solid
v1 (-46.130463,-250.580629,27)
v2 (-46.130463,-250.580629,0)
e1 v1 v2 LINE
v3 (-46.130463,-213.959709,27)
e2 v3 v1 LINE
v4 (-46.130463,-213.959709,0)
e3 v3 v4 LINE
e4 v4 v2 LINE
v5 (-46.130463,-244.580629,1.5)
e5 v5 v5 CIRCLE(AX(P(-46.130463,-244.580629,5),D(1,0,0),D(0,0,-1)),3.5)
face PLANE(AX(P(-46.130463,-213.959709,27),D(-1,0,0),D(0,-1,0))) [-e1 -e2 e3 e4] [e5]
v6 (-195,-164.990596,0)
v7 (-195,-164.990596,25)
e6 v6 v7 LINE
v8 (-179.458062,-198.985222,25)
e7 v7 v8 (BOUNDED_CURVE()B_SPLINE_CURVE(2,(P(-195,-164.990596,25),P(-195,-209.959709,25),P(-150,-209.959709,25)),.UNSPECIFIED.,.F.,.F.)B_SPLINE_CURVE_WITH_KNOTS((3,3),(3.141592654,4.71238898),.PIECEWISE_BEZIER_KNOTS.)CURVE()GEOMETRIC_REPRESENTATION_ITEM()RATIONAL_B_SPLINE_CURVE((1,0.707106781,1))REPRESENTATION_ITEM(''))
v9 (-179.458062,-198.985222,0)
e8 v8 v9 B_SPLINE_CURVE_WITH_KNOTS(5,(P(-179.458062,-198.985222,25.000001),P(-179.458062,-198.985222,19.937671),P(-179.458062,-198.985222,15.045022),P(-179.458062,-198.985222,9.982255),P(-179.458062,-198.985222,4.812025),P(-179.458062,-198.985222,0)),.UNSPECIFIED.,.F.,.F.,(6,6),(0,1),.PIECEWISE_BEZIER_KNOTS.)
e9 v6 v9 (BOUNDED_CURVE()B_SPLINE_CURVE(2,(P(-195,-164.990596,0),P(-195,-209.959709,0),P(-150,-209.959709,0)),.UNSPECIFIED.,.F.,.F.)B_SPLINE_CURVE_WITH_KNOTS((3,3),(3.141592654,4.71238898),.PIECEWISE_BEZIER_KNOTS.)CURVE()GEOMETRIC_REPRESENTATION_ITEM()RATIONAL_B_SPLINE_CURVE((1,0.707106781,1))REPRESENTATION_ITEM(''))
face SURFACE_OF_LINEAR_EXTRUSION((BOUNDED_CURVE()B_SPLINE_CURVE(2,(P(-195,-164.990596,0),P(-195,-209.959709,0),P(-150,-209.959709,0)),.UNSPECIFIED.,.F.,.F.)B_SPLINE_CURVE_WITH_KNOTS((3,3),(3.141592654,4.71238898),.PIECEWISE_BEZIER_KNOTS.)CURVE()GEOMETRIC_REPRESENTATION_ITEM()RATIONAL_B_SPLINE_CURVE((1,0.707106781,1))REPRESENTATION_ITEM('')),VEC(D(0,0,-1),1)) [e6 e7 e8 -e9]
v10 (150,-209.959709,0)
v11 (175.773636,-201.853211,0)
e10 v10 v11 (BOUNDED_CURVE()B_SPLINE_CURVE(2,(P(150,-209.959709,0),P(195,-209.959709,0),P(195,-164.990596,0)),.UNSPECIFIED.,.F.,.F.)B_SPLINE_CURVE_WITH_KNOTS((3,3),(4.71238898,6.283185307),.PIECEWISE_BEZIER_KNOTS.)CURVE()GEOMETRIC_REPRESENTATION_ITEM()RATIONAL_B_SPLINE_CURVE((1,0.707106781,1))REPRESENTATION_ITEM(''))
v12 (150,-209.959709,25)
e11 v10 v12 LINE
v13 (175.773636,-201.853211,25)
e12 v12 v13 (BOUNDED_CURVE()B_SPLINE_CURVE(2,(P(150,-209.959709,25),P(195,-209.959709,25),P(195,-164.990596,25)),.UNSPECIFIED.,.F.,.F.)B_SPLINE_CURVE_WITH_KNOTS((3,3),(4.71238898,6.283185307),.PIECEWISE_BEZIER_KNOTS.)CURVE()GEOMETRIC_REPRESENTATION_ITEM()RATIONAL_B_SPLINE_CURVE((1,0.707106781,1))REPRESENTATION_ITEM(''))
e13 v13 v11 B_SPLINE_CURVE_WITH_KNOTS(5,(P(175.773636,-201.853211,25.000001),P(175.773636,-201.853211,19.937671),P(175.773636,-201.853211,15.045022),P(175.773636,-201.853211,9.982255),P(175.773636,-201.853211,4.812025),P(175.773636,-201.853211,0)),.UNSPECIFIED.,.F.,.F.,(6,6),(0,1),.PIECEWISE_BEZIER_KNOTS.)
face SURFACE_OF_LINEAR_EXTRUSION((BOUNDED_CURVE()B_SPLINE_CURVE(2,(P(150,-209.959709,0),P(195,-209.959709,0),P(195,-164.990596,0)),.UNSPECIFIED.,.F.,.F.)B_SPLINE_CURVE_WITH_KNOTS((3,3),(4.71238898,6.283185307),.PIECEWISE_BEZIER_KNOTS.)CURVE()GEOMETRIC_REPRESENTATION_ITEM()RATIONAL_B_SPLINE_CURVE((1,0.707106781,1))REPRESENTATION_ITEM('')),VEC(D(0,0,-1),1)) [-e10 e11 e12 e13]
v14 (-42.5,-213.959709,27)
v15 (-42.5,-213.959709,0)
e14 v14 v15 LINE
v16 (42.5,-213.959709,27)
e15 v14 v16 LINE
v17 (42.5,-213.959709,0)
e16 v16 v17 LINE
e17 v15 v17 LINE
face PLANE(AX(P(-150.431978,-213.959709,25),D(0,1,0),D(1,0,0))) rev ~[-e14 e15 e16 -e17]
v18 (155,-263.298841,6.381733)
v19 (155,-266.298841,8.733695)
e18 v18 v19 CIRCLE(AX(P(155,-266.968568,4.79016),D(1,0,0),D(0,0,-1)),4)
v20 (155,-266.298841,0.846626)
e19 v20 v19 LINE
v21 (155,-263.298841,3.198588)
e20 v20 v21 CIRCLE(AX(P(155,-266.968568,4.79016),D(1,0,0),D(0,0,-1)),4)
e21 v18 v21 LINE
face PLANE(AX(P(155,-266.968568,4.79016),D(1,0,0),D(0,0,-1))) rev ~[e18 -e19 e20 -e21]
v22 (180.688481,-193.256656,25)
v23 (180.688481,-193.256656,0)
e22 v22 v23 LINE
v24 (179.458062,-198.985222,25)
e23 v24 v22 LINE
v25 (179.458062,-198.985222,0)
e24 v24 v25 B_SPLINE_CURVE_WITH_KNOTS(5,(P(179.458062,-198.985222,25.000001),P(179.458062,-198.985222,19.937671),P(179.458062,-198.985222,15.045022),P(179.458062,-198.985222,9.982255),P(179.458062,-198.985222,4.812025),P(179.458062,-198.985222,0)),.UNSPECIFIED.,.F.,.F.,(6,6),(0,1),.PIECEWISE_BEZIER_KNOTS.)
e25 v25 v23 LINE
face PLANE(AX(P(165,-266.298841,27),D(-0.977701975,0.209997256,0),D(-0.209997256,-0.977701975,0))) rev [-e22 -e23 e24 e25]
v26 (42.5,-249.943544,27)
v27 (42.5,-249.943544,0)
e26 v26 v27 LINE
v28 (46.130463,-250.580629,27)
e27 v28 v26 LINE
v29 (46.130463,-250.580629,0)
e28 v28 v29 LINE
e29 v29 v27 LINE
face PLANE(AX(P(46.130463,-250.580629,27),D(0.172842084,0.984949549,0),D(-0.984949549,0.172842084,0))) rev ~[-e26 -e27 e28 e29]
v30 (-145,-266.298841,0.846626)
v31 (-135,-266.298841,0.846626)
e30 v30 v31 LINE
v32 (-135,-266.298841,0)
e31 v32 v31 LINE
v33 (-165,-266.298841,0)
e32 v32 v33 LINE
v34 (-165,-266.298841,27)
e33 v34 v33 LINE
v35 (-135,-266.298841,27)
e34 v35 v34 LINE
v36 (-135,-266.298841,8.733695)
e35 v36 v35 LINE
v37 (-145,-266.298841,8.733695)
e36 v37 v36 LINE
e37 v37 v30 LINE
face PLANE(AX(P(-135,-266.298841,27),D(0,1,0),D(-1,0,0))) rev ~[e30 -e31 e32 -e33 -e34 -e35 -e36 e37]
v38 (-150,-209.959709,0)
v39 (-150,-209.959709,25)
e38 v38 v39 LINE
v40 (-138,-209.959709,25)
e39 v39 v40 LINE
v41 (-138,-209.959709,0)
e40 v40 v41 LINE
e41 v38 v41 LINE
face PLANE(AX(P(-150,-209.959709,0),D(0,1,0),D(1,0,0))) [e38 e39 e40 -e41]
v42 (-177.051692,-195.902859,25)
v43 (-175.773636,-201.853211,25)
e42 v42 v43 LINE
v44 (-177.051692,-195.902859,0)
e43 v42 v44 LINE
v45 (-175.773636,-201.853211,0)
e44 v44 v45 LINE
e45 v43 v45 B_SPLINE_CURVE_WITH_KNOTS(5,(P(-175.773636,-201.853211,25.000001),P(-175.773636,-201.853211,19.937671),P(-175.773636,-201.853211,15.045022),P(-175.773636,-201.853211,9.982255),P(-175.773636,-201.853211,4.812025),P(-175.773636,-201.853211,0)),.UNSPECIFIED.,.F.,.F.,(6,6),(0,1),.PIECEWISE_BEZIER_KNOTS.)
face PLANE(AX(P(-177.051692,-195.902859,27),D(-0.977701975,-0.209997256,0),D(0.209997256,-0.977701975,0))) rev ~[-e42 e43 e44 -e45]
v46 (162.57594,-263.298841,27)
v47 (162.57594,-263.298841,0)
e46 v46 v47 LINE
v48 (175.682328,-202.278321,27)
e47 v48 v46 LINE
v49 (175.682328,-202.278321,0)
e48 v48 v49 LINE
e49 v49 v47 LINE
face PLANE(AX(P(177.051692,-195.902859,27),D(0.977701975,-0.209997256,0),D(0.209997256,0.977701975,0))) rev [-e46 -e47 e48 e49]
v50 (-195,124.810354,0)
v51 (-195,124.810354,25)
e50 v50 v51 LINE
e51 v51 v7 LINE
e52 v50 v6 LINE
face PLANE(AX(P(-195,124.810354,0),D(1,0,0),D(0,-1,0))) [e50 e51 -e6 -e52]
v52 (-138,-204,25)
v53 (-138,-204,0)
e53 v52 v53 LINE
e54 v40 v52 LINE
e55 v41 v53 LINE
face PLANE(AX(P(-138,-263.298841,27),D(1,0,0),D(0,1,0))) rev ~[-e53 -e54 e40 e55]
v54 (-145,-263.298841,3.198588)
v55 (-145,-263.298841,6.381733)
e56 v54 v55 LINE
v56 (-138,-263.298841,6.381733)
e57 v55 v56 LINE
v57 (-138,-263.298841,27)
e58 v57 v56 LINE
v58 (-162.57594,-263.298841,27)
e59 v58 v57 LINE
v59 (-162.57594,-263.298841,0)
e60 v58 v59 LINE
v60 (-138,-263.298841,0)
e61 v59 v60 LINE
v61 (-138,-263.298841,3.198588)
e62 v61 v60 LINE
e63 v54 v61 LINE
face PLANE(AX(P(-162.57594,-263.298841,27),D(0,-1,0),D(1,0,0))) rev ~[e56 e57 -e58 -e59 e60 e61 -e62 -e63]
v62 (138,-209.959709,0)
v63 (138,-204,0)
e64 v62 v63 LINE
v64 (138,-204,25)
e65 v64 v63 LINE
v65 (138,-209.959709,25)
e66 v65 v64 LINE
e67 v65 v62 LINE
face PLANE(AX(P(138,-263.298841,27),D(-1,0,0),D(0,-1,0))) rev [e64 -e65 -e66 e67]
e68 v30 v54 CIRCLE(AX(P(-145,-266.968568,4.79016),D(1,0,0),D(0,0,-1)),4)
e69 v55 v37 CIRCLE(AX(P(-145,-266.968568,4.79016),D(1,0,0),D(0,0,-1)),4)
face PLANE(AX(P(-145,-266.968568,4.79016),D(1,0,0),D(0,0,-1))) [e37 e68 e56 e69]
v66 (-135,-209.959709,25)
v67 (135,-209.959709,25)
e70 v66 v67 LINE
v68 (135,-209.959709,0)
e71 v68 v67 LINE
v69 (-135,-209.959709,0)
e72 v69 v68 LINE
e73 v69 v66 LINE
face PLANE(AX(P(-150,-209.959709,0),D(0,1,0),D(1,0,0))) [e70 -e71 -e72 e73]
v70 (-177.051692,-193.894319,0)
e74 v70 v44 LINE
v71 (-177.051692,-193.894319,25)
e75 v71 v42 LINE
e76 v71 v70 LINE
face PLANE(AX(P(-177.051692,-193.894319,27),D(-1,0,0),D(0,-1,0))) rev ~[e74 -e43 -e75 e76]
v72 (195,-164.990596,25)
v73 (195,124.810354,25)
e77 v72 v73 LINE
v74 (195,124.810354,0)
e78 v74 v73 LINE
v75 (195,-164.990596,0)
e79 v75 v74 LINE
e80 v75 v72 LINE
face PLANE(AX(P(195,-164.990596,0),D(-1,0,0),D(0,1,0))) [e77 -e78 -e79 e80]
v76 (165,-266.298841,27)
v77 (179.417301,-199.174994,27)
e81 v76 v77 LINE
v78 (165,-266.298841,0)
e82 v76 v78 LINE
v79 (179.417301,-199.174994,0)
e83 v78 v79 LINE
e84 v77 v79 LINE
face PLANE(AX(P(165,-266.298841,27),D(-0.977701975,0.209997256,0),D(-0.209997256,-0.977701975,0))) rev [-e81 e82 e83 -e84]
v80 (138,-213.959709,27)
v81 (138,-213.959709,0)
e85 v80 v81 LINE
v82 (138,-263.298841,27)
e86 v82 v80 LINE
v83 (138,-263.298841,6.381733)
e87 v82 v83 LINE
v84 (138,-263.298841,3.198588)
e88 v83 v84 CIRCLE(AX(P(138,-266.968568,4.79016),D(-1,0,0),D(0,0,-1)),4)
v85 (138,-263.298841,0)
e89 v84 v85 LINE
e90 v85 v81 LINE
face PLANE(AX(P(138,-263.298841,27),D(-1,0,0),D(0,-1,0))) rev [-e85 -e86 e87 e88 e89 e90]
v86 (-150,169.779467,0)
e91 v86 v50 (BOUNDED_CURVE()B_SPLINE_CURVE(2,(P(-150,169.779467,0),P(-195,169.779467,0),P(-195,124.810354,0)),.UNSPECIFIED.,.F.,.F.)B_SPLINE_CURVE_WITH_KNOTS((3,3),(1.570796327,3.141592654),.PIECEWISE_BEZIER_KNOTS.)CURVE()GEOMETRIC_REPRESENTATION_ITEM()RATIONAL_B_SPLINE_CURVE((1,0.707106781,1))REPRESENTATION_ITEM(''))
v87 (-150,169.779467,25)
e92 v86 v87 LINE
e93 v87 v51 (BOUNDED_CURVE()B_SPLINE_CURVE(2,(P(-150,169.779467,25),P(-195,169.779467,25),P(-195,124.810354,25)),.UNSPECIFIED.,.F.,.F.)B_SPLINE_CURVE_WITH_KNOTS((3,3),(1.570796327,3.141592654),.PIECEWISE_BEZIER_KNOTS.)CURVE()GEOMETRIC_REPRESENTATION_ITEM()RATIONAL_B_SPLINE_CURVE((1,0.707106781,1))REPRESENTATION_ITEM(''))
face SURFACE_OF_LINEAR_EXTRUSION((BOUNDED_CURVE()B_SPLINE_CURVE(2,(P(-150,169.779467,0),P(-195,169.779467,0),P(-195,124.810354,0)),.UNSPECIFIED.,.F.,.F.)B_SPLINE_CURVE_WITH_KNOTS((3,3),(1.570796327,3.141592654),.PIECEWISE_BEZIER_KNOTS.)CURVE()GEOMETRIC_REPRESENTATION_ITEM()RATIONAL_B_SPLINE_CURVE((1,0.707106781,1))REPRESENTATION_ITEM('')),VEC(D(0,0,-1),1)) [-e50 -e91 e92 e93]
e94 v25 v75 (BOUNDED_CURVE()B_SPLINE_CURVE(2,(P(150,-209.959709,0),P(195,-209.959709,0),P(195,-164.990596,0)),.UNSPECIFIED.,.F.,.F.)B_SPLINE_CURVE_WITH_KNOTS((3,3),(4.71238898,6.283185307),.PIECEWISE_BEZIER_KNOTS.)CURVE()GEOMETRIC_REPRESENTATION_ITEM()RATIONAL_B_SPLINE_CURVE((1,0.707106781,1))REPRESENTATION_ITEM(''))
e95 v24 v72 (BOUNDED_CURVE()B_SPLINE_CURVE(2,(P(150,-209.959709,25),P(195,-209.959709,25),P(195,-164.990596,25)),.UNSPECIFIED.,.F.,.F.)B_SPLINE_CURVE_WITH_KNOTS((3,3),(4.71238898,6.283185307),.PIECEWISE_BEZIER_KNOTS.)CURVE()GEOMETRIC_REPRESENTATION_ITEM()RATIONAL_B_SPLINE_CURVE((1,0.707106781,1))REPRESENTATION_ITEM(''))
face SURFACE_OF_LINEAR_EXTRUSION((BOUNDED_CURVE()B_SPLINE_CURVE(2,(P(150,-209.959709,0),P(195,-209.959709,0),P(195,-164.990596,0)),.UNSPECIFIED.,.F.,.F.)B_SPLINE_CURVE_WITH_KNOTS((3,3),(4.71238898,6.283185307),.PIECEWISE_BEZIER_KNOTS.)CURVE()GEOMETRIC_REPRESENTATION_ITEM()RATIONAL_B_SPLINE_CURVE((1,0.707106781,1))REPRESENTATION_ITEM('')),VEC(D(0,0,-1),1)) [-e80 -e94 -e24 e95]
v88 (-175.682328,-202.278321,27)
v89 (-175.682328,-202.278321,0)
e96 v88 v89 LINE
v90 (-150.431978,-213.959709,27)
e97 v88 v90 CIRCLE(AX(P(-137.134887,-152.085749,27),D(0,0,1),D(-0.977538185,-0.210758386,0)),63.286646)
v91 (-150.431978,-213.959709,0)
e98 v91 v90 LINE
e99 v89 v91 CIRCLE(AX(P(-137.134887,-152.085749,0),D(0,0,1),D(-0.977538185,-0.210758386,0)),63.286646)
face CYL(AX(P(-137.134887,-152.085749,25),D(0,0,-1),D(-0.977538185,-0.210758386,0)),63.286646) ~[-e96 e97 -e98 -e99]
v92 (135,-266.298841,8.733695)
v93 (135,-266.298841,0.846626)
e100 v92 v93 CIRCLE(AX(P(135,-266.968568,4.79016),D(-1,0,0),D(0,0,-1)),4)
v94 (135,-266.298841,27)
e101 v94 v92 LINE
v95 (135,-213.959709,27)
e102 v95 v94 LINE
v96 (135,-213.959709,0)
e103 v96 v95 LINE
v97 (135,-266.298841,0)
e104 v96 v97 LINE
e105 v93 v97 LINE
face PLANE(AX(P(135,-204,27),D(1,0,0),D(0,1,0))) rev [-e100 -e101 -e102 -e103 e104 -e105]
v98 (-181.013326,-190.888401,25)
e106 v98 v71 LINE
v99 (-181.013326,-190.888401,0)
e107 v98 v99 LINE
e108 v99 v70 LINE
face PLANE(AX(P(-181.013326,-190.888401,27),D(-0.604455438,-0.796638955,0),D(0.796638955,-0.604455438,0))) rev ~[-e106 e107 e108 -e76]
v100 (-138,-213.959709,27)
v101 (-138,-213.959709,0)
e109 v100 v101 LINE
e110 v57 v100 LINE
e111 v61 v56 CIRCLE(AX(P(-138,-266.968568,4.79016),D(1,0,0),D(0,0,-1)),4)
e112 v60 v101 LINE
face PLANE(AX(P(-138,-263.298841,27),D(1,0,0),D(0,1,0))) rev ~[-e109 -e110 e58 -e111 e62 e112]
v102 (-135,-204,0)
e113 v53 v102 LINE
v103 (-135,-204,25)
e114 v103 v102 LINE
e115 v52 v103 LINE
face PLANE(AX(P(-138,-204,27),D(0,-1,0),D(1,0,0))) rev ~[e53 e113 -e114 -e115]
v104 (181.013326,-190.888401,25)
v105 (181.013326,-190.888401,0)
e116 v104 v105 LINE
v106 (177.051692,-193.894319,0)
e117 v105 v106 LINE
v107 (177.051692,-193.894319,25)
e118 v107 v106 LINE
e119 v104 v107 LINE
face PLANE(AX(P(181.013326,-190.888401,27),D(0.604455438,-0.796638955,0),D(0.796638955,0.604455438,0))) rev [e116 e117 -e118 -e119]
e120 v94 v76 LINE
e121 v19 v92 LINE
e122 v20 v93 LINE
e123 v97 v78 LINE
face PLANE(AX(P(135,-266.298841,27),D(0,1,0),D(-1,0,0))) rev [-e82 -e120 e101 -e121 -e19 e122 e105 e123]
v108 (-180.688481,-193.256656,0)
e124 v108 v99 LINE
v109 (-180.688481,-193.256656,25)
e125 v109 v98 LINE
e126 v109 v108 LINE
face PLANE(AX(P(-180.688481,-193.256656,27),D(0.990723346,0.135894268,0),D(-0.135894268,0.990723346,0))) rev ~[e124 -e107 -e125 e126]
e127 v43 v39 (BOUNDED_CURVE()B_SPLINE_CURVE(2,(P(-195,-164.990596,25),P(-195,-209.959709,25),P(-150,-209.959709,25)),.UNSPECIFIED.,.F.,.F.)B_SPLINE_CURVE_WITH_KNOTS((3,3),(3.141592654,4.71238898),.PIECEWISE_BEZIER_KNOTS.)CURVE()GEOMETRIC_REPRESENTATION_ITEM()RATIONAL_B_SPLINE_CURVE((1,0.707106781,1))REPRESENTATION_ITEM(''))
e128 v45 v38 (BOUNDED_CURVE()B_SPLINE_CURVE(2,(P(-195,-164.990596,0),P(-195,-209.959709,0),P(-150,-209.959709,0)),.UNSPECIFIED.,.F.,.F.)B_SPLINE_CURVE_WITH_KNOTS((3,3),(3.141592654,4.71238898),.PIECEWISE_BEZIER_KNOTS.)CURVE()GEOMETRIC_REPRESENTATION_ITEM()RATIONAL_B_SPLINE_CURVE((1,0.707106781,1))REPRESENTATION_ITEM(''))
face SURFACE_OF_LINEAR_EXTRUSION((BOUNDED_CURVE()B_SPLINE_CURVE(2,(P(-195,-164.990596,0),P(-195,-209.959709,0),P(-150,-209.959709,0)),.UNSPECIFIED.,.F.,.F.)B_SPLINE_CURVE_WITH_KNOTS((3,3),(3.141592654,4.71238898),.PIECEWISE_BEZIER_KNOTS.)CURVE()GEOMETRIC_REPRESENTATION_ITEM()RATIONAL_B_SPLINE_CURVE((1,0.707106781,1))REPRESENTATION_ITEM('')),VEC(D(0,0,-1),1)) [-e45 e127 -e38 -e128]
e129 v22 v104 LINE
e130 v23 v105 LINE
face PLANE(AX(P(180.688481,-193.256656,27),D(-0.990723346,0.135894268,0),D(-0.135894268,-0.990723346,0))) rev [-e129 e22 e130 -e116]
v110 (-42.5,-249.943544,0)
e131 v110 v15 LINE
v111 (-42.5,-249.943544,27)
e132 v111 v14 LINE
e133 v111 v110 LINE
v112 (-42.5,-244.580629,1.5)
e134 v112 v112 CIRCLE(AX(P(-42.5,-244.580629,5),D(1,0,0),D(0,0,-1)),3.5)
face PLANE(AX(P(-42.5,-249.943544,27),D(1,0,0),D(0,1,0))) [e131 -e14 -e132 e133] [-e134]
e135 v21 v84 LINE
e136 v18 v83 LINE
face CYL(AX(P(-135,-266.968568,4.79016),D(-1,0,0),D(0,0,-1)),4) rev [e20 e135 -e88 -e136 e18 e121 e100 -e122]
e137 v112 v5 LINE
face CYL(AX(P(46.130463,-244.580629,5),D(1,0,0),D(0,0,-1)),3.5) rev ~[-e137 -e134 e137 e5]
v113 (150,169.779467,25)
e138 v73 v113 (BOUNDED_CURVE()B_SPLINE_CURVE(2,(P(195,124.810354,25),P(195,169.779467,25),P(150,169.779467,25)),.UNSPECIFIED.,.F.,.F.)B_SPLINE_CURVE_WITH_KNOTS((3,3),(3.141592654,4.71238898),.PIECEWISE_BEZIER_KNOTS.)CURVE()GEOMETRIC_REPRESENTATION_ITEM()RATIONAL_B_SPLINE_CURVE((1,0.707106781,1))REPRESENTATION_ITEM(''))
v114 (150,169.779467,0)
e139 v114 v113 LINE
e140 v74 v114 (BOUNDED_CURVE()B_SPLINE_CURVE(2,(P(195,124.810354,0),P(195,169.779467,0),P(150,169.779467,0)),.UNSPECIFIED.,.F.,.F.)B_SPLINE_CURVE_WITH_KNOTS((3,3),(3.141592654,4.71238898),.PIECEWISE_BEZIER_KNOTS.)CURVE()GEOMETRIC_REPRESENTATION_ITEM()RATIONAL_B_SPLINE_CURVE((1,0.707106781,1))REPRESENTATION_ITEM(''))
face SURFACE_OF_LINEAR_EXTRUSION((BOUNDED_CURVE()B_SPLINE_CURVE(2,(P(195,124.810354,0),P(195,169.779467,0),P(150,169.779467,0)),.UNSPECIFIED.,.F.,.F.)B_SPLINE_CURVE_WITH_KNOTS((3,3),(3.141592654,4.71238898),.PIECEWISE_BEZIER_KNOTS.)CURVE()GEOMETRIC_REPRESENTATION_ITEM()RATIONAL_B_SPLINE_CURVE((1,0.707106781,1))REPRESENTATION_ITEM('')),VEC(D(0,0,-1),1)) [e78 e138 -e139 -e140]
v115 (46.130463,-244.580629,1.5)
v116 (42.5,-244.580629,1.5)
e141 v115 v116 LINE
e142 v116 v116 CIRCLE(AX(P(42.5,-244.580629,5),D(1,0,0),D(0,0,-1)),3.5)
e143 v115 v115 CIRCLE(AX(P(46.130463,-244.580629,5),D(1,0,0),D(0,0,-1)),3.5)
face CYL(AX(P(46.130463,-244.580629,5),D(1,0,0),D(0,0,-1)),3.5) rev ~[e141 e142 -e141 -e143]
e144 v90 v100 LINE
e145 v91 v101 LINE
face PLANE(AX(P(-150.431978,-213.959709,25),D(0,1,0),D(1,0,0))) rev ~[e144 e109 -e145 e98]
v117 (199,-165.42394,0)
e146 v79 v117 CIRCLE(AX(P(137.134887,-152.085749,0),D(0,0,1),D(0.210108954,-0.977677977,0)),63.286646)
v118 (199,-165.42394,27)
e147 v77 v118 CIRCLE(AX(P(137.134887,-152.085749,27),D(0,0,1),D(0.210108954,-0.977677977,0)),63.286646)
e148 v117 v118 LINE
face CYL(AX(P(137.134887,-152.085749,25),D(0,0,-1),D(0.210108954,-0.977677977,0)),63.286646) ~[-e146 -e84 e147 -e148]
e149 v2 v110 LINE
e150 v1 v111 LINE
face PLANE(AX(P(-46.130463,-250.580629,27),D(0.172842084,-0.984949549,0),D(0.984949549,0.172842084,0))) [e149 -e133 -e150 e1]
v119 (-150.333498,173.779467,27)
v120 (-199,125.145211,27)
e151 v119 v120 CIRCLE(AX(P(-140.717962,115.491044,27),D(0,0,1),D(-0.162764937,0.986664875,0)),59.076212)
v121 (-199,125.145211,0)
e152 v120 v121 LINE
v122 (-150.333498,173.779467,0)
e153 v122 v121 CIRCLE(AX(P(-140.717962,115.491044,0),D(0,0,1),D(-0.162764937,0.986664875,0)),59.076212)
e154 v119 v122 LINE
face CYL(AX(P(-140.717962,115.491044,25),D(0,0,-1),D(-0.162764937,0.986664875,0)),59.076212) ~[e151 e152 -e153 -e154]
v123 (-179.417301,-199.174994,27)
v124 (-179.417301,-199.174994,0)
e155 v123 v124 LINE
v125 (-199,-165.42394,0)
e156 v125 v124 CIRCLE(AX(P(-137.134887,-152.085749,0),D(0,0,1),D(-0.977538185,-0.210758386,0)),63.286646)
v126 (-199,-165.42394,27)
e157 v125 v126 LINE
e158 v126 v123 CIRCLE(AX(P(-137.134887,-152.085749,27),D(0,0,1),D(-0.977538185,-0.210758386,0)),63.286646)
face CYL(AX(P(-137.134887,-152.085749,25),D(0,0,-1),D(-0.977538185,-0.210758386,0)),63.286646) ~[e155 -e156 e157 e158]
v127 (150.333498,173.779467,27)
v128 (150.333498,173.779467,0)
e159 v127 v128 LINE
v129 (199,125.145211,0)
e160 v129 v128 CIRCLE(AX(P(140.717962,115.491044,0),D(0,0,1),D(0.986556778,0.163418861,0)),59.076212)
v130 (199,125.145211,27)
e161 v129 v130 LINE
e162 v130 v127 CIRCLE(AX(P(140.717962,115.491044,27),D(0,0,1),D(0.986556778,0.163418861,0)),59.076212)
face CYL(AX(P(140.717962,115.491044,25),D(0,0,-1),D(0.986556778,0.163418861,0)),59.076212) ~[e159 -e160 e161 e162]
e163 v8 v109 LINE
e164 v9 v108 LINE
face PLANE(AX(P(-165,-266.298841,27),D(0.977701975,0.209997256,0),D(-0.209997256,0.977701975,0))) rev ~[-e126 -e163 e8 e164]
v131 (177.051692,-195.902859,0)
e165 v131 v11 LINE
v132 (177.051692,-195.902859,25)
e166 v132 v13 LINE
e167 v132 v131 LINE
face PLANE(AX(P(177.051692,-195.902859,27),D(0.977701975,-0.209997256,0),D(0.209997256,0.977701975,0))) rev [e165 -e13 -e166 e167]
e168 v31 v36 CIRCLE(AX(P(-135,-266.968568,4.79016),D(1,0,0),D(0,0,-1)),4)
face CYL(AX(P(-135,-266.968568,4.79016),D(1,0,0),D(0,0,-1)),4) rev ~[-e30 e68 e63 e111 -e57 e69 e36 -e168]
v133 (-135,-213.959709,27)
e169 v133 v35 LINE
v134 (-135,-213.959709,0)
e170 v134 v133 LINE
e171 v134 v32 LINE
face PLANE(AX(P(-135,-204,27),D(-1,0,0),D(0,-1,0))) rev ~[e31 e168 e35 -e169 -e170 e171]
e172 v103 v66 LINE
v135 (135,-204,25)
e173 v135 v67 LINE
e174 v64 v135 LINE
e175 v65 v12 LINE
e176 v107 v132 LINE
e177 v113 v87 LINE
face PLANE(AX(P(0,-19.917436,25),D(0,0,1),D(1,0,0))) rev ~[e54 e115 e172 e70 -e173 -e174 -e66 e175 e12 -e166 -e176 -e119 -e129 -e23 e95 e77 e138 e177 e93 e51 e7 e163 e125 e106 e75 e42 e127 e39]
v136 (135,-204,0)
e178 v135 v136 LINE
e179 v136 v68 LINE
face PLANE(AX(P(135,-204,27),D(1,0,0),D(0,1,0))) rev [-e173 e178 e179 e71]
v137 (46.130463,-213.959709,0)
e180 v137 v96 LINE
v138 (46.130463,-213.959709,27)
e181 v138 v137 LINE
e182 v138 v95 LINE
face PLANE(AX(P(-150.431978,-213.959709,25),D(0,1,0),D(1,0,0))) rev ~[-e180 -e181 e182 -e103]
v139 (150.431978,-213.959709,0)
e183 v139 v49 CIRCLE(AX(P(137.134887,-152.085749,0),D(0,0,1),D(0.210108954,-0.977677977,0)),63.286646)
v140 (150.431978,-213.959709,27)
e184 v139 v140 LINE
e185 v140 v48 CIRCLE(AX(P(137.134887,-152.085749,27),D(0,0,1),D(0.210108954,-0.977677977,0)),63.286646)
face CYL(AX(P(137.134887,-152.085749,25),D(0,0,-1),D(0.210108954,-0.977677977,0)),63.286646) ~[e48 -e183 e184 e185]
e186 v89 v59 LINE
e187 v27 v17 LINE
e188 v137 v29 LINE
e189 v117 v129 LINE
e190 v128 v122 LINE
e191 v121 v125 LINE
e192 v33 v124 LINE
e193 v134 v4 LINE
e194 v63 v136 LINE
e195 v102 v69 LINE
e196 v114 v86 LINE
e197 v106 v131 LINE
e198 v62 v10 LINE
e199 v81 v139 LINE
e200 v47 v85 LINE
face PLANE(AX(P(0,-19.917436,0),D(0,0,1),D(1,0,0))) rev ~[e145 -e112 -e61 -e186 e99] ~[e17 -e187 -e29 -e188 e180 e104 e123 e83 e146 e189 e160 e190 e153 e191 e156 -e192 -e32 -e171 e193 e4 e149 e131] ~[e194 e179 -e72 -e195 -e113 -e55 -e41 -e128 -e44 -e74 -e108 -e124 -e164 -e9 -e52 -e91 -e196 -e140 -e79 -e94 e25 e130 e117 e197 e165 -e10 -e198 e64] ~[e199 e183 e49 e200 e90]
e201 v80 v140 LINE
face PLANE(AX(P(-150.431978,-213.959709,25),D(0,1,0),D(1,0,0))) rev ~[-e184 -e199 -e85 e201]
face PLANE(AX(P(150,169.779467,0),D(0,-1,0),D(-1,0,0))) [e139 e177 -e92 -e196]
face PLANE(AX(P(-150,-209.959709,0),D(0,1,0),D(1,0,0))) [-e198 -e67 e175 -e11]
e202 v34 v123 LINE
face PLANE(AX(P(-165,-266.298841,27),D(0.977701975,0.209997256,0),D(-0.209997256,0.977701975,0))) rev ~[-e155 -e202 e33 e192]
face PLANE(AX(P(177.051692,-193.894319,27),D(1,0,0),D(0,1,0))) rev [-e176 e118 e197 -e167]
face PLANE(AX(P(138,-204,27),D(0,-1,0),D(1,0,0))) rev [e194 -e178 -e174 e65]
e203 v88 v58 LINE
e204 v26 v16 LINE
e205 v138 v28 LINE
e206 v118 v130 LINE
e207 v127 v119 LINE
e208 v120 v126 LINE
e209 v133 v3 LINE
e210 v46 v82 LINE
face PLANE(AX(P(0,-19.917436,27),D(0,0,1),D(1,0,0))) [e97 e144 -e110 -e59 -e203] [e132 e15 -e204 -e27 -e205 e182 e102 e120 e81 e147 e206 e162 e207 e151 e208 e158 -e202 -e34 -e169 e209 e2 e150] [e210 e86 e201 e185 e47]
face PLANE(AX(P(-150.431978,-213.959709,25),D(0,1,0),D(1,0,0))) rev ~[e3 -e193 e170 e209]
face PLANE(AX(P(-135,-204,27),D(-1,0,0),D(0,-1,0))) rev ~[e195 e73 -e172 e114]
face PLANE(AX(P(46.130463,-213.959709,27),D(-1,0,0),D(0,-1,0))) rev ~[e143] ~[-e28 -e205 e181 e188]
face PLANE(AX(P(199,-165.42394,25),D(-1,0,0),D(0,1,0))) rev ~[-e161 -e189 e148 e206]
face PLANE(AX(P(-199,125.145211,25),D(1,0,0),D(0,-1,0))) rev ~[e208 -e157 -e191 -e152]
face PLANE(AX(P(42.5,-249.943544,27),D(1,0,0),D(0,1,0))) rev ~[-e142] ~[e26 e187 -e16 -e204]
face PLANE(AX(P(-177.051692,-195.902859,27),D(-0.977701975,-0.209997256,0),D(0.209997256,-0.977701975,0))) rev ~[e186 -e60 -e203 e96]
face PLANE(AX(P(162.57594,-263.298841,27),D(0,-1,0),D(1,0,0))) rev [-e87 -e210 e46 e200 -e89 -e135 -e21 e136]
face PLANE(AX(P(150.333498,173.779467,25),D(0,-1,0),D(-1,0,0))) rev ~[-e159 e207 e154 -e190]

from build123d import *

# Parameters (mm, degrees)
BOSS_EXTRUDE1_DEPTH     = 25
BOSS_EXTRUDE2_DEPTH     = 2
BOSS_EXTRUDE3_DEPTH     = 27
SKETCH4_R               = 4.000000001
CUT_EXTRUDE1_DEPTH      = 290
CUT_EXTRUDE1_DEPTH_BACK = 10
BOSS_EXTRUDE4_DEPTH     = 27
SKETCH6_R               = 3.5
CUT_EXTRUDE2_DEPTH      = 108


with BuildPart() as part:
    # Sketch1 → Boss-Extrude1 (new body)
    with BuildSketch(Plane.XY):
        with BuildLine():
            Line((-199, 125.145211216), (-199, -165.423939983))
            ThreePointArc((-199, -165.423939983), (-181.870436917, -196.8510269), (-150.43197765, -213.959708975))
            Line((-150.43197765, -213.959708975), (150.431977646, -213.959708975))
            ThreePointArc((150.431977646, -213.959708975), (181.870436916, -196.8510269), (199, -165.423939981))
            Line((199, -165.423939981), (199, 125.145211216))
            ThreePointArc((199, 125.145211216), (182.477306779, 157.278075491), (150.333498342, 173.779467463))
            Line((150.333498342, 173.779467463), (-150.333498342, 173.779467463))
            ThreePointArc((-150.333498342, 173.779467463), (-182.477306779, 157.278075491), (-199, 125.145211216))
        make_face()
        with BuildLine():
            Line((-195, 124.810354463), (-195, -164.990595976))
            add(Edge.make_bspline(
                [(-195, -164.990595976), (-195, -209.959708976), (-150, -209.959708975)],
                knots=[3.141592654, 3.141592654, 3.141592654, 4.71238898, 4.71238898, 4.71238898], degree=2, weights=[1, 0.707106781, 1]))
            Line((-150, -209.959708975), (149.999999997, -209.959708975))
            add(Edge.make_bspline(
                [(149.999999997, -209.959708975), (195.000000002, -209.959708979), (195, -164.990595974)],
                knots=[4.71238898, 4.71238898, 4.71238898, 6.283185307, 6.283185307, 6.283185307], degree=2, weights=[1, 0.707106781, 1]))
            Line((195, -164.990595974), (195, 124.810354463))
            add(Edge.make_bspline(
                [(195, 124.810354463), (195, 169.779467463), (150, 169.779467463)],
                knots=[3.141592654, 3.141592654, 3.141592654, 4.71238898, 4.71238898, 4.71238898], degree=2, weights=[1, 0.707106781, 1]))
            Line((150, 169.779467463), (-150, 169.779467463))
            add(Edge.make_bspline(
                [(-150, 169.779467463), (-195, 169.779467463), (-195, 124.810354463)],
                knots=[1.570796327, 1.570796327, 1.570796327, 3.141592654, 3.141592654, 3.141592654], degree=2, weights=[1, 0.707106781, 1]))
        make_face(mode=Mode.SUBTRACT)
    extrude(amount=BOSS_EXTRUDE1_DEPTH)

    # Sketch2 → Boss-Extrude2 (add)
    with BuildSketch(Plane.XY.offset(25)):
        with BuildLine():
            Line((-199, 125.145211216), (-199, -165.423939983))
            ThreePointArc((-199, -165.423939983), (-181.870436917, -196.8510269), (-150.43197765, -213.959708975))
            Line((-150.43197765, -213.959708975), (150.431977646, -213.959708975))
            ThreePointArc((150.431977646, -213.959708975), (181.870436916, -196.8510269), (199, -165.423939981))
            Line((199, -165.423939981), (199, 125.145211216))
            ThreePointArc((199, 125.145211216), (182.477306779, 157.278075491), (150.333498342, 173.779467463))
            Line((150.333498342, 173.779467463), (-150.333498342, 173.779467463))
            ThreePointArc((-150.333498342, 173.779467463), (-182.477306779, 157.278075491), (-199, 125.145211216))
        make_face()
    extrude(amount=BOSS_EXTRUDE2_DEPTH)

    # Sketch3 → Boss-Extrude3 (add)
    with BuildSketch(Plane.XY.offset(27)):
        Polygon((-135, -204), (-135, -266.298841042), (-165, -266.298841042), (-180.688480604, -193.256655723), (-181.013326297, -190.888401224), (-177.05169199, -193.894319256), (-177.05169199, -195.902858929), (-162.575940018, -263.298841042), (-138, -263.298841042), (-138, -204), align=None)
    boss_extrude3 = extrude(amount=-BOSS_EXTRUDE3_DEPTH)

    # Mirror1: Boss-Extrude3 across plane
    add(boss_extrude3.mirror(Plane(origin=(0, 0, 0), x_dir=(0, 0, 1), z_dir=(1, 0, 0))))

    # Sketch4 → Cut-Extrude1 (cut, two sides)
    with BuildSketch(Plane(origin=(-135, 0, 0), x_dir=(0, 0, -1), z_dir=(1, 0, 0))) as cut_extrude1_sk:
        with Locations((-4.790160487, -266.968568277)):
            Circle(SKETCH4_R)
    extrude(amount=CUT_EXTRUDE1_DEPTH, mode=Mode.SUBTRACT)
    extrude(cut_extrude1_sk.sketch, amount=-CUT_EXTRUDE1_DEPTH_BACK, mode=Mode.SUBTRACT)

    # Sketch5 → Boss-Extrude4 (add)
    with BuildSketch(Plane.XY.offset(27)):
        Polygon((-46.130462584, -213.959708975), (-46.130462584, -250.580628677), (-42.5, -249.943543539), (-42.5, -213.959708975), align=None)
        Polygon((46.130462584, -250.580628677), (42.5, -249.943543539), (42.5, -213.959708975), (46.130462584, -213.959708975), align=None)
    extrude(amount=-BOSS_EXTRUDE4_DEPTH)

    # Sketch6 → Cut-Extrude2 (cut)
    with BuildSketch(Plane(origin=(46.130462584, 0, 0), x_dir=(0, 0, -1), z_dir=(1, 0, 0))):
        with Locations((-4.999999906, -244.580628739)):
            Circle(SKETCH6_R)
    extrude(amount=-CUT_EXTRUDE2_DEPTH, mode=Mode.SUBTRACT)


solid = part.part
